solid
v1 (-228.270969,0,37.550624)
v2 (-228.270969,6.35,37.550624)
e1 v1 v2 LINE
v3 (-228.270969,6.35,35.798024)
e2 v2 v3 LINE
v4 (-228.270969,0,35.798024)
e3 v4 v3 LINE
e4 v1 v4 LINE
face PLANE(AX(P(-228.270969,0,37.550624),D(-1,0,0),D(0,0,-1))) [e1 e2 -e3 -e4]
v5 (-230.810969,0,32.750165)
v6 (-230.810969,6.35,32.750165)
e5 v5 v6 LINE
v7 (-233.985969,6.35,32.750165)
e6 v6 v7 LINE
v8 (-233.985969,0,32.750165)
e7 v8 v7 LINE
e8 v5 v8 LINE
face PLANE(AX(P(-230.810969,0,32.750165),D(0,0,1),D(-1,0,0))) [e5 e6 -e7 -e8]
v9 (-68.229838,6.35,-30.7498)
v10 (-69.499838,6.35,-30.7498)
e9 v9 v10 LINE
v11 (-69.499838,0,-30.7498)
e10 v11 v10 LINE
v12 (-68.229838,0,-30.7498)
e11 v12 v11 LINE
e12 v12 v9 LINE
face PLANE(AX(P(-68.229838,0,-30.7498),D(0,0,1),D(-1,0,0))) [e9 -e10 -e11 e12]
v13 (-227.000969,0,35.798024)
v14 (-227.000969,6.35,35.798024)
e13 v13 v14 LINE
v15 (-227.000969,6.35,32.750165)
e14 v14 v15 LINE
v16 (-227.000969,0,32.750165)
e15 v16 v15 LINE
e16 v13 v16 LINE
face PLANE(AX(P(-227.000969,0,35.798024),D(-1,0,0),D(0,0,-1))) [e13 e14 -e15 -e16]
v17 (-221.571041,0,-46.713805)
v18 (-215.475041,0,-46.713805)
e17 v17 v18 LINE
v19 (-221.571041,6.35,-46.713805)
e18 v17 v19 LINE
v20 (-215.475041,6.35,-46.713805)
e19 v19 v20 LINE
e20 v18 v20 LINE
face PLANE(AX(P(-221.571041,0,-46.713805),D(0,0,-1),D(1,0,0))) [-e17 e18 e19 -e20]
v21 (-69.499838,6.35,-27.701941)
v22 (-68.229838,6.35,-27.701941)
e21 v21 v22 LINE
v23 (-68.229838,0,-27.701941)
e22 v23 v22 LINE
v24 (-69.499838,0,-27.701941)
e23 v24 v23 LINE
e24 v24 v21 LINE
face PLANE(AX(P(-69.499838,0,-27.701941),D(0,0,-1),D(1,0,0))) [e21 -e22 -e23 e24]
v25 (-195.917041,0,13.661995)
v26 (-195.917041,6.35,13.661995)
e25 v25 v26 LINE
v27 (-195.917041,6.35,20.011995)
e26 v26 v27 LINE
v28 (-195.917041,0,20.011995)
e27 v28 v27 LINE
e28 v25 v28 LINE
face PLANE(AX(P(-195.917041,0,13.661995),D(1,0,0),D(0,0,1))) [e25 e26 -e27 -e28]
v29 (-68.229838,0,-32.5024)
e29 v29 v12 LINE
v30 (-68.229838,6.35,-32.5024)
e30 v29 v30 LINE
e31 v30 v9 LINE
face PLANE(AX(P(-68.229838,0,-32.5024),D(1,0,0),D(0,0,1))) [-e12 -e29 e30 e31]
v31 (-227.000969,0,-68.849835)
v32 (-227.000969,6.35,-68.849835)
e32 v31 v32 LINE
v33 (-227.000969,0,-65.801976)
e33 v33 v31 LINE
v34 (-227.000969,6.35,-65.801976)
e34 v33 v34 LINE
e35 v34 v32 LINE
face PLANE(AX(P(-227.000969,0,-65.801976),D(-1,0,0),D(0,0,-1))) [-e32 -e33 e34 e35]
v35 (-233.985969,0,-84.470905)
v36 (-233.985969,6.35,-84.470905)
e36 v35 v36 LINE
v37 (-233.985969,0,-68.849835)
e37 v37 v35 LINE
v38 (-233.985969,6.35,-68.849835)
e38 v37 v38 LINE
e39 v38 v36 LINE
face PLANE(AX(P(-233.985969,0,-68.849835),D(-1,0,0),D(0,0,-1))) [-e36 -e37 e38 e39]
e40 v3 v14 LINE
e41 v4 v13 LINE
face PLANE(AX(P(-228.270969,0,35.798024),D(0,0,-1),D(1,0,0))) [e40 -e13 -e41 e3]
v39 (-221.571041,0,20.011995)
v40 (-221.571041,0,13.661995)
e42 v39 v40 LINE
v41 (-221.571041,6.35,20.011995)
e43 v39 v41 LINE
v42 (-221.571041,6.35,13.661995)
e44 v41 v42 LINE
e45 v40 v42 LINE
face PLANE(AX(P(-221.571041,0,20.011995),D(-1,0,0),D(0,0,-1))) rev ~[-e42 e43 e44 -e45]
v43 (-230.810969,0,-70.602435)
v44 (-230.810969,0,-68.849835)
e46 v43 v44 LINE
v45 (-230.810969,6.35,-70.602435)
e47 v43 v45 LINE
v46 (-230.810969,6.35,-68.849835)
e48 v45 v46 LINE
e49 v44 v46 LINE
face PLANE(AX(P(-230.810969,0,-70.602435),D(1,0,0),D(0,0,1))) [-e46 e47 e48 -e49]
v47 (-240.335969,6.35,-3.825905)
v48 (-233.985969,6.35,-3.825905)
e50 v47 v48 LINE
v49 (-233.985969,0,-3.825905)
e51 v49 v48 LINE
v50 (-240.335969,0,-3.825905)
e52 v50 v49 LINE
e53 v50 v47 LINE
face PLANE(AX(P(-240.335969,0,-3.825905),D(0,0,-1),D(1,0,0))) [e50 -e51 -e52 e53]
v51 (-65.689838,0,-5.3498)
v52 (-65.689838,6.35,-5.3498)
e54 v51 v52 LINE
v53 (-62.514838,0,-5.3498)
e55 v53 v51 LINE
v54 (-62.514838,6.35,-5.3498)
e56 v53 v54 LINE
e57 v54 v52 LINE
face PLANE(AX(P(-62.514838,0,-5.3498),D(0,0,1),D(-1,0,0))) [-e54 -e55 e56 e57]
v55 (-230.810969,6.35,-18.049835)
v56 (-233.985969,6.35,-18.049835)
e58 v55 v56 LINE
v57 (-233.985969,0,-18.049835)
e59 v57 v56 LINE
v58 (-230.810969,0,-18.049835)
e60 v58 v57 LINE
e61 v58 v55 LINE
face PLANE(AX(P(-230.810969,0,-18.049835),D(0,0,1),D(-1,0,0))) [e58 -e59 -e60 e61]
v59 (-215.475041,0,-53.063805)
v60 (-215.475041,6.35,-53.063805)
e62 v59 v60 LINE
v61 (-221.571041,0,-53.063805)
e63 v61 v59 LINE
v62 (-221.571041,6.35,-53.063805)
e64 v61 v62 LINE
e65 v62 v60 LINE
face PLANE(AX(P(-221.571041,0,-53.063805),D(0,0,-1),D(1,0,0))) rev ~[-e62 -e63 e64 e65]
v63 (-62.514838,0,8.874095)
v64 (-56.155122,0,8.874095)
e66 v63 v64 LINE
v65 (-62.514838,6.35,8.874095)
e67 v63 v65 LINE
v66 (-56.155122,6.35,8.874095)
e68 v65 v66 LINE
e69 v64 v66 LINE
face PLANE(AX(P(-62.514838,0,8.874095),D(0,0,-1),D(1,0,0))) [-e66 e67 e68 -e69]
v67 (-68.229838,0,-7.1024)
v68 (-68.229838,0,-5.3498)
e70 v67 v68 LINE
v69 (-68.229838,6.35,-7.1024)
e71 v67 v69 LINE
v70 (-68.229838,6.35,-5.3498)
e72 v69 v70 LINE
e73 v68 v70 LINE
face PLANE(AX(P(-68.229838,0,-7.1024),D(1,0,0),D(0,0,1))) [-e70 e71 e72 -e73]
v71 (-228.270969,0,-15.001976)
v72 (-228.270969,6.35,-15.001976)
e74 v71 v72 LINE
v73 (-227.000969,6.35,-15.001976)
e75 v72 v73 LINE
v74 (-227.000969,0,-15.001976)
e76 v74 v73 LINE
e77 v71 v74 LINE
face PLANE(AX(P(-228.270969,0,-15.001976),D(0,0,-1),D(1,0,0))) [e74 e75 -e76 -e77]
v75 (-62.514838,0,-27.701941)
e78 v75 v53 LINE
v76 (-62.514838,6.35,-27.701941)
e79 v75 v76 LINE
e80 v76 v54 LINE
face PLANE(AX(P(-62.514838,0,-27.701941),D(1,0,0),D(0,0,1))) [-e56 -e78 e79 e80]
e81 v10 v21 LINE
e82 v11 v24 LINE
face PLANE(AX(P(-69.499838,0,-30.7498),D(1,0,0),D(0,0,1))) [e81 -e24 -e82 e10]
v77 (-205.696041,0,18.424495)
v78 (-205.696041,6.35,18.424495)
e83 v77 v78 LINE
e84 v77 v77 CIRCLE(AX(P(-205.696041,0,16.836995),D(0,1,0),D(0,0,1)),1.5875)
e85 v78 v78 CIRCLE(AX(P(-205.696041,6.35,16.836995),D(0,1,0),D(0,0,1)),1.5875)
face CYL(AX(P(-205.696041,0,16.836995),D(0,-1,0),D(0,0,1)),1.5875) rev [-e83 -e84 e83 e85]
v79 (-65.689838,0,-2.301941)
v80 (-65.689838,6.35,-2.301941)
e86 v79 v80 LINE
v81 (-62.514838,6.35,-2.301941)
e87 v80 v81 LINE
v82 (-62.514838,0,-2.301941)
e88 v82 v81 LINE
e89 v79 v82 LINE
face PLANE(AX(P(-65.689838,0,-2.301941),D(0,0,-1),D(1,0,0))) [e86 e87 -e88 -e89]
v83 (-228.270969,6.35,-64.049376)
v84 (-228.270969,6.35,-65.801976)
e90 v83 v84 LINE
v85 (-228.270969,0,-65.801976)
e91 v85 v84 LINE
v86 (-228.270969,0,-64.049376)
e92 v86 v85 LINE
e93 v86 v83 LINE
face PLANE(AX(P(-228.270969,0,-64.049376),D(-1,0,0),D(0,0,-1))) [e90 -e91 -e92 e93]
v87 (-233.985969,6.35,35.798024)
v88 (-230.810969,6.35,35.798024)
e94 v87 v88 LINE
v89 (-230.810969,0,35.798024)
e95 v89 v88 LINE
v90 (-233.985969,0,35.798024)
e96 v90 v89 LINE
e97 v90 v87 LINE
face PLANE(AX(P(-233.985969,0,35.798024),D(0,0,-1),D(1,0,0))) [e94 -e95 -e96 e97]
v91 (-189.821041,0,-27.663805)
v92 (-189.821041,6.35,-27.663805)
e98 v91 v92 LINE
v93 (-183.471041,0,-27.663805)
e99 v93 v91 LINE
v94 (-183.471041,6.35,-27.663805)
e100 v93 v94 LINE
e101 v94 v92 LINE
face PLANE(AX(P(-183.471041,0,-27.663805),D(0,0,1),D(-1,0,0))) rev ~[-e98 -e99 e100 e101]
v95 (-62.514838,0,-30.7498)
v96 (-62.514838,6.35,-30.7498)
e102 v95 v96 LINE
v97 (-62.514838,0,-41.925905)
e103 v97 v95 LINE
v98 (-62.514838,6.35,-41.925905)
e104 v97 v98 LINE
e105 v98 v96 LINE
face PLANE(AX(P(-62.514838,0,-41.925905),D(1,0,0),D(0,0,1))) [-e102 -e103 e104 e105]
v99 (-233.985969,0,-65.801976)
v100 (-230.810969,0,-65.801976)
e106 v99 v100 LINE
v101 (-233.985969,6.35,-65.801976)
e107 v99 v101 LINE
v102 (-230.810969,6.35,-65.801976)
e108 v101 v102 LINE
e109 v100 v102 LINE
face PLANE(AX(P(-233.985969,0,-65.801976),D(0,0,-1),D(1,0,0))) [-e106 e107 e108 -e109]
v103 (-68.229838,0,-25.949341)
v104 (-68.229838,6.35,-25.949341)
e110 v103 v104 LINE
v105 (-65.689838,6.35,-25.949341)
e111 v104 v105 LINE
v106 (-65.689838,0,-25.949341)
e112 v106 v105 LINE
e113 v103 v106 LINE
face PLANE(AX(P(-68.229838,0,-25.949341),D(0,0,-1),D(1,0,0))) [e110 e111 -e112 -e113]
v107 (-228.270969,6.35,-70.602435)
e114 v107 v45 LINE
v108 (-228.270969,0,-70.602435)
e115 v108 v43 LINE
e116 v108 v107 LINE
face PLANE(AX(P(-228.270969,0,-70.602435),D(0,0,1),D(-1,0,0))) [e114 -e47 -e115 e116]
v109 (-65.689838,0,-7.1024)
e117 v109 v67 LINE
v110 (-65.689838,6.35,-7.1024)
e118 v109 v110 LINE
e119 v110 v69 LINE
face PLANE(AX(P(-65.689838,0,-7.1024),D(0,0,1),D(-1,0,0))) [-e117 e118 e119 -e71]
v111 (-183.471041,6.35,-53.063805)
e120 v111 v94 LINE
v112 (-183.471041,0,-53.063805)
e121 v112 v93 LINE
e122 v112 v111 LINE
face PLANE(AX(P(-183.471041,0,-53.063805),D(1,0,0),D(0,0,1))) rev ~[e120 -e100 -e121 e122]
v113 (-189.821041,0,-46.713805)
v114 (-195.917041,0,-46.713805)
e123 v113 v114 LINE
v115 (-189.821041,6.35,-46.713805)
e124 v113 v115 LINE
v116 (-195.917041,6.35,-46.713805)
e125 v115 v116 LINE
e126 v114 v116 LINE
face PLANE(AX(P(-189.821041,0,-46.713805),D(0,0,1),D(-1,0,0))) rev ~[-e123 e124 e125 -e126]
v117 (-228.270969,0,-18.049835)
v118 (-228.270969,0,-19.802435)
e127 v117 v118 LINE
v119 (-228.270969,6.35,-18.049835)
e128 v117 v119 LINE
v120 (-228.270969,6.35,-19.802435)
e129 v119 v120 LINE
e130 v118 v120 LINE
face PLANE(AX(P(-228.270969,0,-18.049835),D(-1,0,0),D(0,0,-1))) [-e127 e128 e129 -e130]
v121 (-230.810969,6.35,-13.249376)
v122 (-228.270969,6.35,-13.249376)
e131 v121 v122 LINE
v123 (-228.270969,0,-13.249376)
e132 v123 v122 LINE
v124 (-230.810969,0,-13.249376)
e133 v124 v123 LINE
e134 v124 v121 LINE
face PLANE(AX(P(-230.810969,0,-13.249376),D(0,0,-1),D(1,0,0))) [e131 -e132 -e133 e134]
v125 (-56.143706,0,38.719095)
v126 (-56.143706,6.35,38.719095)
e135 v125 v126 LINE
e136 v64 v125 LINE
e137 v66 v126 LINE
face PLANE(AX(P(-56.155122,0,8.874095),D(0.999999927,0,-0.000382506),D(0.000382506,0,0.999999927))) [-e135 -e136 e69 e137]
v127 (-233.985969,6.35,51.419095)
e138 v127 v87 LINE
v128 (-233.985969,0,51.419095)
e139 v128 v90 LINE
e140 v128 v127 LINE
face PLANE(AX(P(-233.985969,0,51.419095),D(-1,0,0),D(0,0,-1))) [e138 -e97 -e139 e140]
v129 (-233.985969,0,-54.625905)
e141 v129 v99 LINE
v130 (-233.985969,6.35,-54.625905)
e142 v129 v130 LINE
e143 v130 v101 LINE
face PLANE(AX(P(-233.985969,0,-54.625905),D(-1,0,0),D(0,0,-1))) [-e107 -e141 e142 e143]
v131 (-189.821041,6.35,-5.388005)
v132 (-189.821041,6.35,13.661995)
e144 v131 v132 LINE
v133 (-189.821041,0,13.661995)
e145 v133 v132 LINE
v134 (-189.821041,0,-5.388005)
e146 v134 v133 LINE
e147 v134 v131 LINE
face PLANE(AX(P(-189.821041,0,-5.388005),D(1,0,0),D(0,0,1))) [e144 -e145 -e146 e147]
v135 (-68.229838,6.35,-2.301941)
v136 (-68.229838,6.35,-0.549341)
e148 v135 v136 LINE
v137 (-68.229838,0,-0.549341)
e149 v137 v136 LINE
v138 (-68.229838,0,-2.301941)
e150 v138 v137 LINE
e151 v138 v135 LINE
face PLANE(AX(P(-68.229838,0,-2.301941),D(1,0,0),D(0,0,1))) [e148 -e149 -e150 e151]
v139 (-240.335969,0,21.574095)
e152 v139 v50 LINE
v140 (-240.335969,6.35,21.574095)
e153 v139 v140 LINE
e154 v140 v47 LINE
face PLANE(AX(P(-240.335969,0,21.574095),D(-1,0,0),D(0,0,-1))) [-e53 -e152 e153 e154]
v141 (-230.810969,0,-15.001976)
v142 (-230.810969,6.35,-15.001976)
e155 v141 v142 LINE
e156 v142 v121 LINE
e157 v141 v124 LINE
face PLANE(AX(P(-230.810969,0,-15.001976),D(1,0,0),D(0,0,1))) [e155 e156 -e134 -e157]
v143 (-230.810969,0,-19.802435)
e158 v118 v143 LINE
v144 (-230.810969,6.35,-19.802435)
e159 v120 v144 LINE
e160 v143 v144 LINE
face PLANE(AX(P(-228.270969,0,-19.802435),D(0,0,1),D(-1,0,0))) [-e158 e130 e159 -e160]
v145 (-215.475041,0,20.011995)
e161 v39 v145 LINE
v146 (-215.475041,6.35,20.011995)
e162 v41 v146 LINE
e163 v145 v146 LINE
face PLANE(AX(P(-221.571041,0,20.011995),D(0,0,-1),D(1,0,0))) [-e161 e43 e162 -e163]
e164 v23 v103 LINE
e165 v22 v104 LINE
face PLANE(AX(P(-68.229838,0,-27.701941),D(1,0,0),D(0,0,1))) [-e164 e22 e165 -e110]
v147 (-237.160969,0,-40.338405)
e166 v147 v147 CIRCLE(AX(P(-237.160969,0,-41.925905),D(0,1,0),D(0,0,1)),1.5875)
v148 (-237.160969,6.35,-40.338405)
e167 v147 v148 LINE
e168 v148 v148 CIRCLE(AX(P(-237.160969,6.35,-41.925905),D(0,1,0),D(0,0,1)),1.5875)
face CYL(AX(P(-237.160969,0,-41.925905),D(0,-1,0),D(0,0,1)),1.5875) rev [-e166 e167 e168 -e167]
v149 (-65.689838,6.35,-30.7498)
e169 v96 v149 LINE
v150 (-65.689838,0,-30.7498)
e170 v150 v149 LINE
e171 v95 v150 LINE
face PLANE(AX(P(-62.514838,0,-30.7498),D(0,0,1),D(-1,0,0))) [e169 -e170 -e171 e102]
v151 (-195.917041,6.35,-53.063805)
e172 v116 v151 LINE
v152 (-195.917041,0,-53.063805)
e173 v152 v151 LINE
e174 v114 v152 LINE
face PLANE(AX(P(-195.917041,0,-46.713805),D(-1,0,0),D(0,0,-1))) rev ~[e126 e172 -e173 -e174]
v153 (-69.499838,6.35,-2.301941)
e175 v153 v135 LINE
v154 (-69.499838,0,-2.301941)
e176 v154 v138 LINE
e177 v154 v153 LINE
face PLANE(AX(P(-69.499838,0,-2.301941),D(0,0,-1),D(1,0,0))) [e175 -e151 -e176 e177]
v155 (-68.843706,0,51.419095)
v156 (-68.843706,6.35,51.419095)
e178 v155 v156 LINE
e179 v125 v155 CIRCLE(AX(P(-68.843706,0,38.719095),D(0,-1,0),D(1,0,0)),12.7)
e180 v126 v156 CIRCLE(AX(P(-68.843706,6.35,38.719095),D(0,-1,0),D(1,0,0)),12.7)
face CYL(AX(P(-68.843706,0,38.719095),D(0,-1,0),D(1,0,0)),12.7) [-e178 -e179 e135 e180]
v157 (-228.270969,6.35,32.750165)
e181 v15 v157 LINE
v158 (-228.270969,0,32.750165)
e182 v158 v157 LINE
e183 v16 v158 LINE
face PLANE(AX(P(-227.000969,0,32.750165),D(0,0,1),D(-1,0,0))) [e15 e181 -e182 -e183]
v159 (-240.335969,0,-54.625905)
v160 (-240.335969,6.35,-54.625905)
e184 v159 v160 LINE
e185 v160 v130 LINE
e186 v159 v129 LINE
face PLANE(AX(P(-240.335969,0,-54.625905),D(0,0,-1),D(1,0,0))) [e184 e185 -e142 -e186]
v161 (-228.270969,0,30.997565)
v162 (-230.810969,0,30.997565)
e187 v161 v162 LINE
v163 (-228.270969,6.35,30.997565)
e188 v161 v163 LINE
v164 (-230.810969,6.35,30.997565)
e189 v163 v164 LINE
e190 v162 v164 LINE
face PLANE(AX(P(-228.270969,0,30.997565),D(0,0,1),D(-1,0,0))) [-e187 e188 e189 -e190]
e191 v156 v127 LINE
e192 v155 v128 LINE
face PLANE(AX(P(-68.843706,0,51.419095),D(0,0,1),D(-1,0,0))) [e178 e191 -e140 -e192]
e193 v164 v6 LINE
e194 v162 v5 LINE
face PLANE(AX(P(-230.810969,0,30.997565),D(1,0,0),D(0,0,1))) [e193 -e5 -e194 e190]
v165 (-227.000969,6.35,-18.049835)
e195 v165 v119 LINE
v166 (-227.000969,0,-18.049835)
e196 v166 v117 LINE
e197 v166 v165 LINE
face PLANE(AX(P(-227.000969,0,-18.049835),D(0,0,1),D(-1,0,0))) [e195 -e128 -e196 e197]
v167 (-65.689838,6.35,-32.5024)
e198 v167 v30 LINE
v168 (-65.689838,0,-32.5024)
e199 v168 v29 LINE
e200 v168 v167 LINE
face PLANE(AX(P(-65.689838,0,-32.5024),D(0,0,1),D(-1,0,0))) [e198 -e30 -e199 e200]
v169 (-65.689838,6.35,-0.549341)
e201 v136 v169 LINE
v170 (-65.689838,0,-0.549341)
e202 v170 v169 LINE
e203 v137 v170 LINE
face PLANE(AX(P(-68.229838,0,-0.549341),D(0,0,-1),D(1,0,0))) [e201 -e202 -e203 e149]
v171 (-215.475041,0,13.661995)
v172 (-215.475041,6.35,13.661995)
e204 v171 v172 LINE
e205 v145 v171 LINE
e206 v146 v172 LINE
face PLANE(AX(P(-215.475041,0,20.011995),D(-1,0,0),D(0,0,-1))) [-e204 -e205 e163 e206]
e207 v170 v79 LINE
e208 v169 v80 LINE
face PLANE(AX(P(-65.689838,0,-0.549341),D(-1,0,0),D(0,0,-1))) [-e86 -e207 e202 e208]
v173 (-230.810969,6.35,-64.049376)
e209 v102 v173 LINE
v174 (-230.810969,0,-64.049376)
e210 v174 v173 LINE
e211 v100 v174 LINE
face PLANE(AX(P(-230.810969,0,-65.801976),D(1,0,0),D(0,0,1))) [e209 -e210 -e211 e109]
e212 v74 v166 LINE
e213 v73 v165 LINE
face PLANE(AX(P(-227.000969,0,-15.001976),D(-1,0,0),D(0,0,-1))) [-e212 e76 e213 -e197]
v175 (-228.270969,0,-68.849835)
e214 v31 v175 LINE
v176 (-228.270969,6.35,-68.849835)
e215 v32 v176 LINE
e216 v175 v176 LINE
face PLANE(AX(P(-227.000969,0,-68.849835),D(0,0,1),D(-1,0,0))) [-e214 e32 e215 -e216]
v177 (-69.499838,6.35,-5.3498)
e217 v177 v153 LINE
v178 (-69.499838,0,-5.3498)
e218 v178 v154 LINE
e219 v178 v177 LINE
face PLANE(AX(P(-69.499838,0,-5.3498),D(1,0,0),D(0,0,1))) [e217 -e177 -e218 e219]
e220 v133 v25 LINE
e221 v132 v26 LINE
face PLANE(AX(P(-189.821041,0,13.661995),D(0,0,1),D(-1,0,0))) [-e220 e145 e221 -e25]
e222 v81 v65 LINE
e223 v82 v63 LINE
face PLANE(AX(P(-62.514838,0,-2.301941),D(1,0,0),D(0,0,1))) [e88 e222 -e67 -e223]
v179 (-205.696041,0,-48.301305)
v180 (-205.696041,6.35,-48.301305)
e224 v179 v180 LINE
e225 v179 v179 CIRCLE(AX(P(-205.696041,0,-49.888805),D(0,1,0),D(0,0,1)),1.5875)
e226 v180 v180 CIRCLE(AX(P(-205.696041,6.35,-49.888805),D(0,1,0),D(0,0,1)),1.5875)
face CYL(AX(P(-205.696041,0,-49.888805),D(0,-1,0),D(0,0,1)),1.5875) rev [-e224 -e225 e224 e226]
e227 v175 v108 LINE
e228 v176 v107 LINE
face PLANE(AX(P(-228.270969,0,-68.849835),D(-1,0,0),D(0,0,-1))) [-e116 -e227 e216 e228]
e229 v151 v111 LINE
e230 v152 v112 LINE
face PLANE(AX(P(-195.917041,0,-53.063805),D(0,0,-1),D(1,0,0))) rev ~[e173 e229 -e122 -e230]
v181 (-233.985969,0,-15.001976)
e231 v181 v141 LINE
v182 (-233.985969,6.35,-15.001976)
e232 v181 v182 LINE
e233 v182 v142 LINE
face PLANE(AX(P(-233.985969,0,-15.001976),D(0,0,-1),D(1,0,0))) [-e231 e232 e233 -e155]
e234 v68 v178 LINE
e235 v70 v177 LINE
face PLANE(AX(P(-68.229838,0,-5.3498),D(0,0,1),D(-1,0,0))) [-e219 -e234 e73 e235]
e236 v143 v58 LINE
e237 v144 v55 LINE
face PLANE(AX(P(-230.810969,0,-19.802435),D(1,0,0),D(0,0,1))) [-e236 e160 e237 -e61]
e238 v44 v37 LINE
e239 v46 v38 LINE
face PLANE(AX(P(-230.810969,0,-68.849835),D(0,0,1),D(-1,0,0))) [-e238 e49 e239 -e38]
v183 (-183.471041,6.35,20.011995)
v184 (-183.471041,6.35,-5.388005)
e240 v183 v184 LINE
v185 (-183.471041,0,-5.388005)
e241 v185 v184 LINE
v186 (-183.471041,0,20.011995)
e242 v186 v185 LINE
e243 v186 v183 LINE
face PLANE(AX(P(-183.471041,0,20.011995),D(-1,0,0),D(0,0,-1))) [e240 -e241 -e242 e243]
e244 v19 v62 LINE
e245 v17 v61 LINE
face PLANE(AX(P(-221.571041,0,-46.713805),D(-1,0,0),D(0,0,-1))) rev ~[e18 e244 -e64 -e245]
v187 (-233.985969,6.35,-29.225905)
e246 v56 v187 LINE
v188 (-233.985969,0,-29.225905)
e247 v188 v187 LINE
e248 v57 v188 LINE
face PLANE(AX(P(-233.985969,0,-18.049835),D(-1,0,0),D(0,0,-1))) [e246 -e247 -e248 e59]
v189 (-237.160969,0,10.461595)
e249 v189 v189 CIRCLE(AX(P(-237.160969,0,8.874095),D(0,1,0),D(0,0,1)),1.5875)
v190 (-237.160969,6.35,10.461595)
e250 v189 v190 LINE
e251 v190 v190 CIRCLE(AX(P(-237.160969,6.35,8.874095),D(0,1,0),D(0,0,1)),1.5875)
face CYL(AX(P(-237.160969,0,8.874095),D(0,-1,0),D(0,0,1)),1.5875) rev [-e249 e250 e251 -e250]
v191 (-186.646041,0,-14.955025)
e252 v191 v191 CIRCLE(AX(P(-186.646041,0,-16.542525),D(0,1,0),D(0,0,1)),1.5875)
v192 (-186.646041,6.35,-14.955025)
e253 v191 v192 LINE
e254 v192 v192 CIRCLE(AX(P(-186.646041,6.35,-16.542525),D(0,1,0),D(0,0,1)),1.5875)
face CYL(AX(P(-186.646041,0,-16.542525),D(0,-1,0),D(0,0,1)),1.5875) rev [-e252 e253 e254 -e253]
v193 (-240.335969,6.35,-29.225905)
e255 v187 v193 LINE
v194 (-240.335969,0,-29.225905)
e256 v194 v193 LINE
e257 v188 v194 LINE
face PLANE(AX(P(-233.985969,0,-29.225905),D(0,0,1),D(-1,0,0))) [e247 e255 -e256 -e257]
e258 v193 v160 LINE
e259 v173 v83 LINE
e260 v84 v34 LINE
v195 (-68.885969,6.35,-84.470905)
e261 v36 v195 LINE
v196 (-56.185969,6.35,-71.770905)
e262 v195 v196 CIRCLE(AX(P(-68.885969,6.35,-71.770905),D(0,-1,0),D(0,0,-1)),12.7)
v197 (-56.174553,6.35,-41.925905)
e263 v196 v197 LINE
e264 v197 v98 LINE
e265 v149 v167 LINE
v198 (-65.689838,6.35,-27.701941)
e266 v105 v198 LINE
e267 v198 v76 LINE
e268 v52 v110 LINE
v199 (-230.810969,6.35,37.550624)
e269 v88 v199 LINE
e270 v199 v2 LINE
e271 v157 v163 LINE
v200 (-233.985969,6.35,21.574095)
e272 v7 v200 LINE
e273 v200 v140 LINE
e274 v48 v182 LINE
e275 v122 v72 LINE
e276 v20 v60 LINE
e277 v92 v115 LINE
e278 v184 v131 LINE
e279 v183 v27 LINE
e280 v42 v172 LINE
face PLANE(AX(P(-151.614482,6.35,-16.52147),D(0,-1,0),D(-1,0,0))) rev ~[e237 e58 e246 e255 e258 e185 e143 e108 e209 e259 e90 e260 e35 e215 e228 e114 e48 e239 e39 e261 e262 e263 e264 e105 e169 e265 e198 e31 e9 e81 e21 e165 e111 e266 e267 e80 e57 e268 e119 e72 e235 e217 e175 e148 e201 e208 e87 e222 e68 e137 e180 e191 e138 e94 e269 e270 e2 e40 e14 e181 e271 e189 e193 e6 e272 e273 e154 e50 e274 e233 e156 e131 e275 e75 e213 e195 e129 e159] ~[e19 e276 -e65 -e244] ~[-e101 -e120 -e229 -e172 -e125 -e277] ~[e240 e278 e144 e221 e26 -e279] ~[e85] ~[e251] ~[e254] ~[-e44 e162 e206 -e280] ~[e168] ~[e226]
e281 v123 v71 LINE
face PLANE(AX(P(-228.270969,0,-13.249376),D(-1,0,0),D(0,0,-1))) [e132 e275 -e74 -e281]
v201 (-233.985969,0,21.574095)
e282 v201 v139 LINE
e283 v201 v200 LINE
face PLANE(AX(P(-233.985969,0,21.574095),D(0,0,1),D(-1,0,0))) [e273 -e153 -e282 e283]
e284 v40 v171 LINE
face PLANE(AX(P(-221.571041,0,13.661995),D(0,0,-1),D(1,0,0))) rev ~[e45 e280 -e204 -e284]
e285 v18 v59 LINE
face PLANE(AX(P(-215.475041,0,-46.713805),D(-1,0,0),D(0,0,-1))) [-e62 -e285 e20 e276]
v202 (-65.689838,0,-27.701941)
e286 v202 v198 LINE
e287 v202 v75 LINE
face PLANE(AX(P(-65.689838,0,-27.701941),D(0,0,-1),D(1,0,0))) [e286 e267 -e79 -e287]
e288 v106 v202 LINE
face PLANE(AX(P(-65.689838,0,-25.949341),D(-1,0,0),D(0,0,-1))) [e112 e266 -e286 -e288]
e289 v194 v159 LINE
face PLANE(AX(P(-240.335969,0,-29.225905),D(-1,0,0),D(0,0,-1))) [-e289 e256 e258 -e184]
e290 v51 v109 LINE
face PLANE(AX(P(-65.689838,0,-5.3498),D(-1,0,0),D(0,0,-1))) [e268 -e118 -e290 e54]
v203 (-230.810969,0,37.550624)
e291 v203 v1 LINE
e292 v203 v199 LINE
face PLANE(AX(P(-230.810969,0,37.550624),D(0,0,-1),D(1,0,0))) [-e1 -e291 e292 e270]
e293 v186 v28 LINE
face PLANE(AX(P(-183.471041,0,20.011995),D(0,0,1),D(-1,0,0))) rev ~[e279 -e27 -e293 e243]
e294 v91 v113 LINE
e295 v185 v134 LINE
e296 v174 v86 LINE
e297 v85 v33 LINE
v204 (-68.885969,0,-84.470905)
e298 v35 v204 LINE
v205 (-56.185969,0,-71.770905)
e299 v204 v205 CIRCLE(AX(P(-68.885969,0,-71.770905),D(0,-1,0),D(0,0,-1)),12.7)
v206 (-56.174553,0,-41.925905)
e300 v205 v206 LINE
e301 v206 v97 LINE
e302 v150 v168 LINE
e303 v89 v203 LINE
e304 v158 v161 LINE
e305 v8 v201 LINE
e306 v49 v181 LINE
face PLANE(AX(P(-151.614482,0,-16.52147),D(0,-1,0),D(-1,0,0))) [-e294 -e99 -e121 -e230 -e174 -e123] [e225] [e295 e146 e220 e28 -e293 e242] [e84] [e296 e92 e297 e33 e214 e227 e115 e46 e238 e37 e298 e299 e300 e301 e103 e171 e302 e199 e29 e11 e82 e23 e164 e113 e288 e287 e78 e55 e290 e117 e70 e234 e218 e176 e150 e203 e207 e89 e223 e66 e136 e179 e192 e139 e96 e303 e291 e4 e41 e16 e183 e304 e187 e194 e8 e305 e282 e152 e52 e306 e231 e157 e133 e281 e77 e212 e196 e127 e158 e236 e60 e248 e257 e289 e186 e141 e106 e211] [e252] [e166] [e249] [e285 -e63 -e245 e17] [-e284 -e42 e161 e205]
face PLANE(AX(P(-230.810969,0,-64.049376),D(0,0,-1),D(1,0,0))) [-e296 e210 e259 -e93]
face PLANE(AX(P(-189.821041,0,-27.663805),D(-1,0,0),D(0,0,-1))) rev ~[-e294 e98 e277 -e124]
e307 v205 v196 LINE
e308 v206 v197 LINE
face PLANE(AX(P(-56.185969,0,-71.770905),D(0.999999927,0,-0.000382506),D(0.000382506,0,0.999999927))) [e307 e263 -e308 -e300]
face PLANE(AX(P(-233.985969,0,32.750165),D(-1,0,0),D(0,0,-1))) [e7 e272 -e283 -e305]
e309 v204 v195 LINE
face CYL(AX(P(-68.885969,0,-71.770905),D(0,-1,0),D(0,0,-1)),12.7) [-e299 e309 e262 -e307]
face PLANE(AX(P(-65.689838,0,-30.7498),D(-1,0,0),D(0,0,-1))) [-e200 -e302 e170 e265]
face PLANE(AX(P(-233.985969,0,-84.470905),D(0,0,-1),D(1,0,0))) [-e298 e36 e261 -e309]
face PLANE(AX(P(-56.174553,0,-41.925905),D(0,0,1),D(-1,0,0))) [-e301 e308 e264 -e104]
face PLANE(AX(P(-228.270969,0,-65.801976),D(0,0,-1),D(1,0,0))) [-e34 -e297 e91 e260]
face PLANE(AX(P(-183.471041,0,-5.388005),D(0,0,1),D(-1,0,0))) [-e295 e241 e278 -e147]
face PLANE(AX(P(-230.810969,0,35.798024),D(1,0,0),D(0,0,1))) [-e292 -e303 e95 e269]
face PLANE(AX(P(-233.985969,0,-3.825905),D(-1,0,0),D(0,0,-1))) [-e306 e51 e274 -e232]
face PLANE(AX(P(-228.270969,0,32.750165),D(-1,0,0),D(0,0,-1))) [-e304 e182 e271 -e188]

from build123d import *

# Parameters (mm, degrees)
SKETCH1_R           = 1.5875
SKETCH1_W           = 6.096
SKETCH1_H           = 6.35
BOSS_EXTRUDE1_DEPTH = 6.35


with BuildPart() as part:
    # Sketch1 → Boss-Extrude1 (new body)
    with BuildSketch(Plane(origin=(0, 0, 0), x_dir=(1, 0, 0), z_dir=(0, 1, 0))):
        with BuildLine():
            Line((-233.985969077, 84.470905347), (-68.885969077, 84.470905347))
            ThreePointArc((-68.885969077, 84.470905347), (-59.905712956, 80.751161468), (-56.185969077, 71.770905347))
            Line((-56.185969077, 71.770905347), (-56.174553175, 41.925905347))
            Line((-56.174553175, 41.925905347), (-62.514837513, 41.925905347))
            Line((-62.514837513, 41.925905347), (-62.514837513, 30.749799864))
            Line((-62.514837513, 30.749799864), (-65.689837513, 30.749799864))
            Line((-65.689837513, 30.749799864), (-65.689837513, 32.502399864))
            Line((-65.689837513, 32.502399864), (-68.229837513, 32.502399864))
            Line((-68.229837513, 32.502399864), (-68.229837513, 30.749799864))
            Line((-68.229837513, 30.749799864), (-69.499837513, 30.749799864))
            Line((-69.499837513, 30.749799864), (-69.499837513, 27.701940508))
            Line((-69.499837513, 27.701940508), (-68.229837513, 27.701940508))
            Line((-68.229837513, 27.701940508), (-68.229837513, 25.949340508))
            Line((-68.229837513, 25.949340508), (-65.689837513, 25.949340508))
            Line((-65.689837513, 25.949340508), (-65.689837513, 27.701940508))
            Line((-65.689837513, 27.701940508), (-62.514837513, 27.701940508))
            Line((-62.514837513, 27.701940508), (-62.514837513, 16.525905347))
            Line((-62.514837513, 16.525905347), (-62.514837513, 5.349799864))
            Line((-62.514837513, 5.349799864), (-65.689837513, 5.349799864))
            Line((-65.689837513, 5.349799864), (-65.689837513, 7.102399864))
            Line((-65.689837513, 7.102399864), (-68.229837513, 7.102399864))
            Line((-68.229837513, 7.102399864), (-68.229837513, 5.349799864))
            Line((-68.229837513, 5.349799864), (-69.499837513, 5.349799864))
            Line((-69.499837513, 5.349799864), (-69.499837513, 2.301940508))
            Line((-69.499837513, 2.301940508), (-68.229837513, 2.301940508))
            Line((-68.229837513, 2.301940508), (-68.229837513, 0.549340508))
            Line((-68.229837513, 0.549340508), (-65.689837513, 0.549340508))
            Line((-65.689837513, 0.549340508), (-65.689837513, 2.301940508))
            Line((-65.689837513, 2.301940508), (-62.514837513, 2.301940508))
            Line((-62.514837513, 2.301940508), (-62.514837513, -8.874094653))
            Line((-62.514837513, -8.874094653), (-56.155121852, -8.874094653))
            Line((-56.155121852, -8.874094653), (-56.14370595, -38.719094653))
            ThreePointArc((-56.14370595, -38.719094653), (-59.863449829, -47.699350774), (-68.84370595, -51.419094653))
            Line((-68.84370595, -51.419094653), (-233.985969077, -51.419094653))
            Line((-233.985969077, -51.419094653), (-233.985969077, -45.069094653))
            Line((-233.985969077, -45.069094653), (-233.985969077, -35.798024331))
            Line((-233.985969077, -35.798024331), (-230.810969077, -35.798024331))
            Line((-230.810969077, -35.798024331), (-230.810969077, -37.550624331))
            Line((-230.810969077, -37.550624331), (-228.270969077, -37.550624331))
            Line((-228.270969077, -37.550624331), (-228.270969077, -35.798024331))
            Line((-228.270969077, -35.798024331), (-227.000969077, -35.798024331))
            Line((-227.000969077, -35.798024331), (-227.000969077, -32.750164975))
            Line((-227.000969077, -32.750164975), (-228.270969077, -32.750164975))
            Line((-228.270969077, -32.750164975), (-228.270969077, -30.997564975))
            Line((-228.270969077, -30.997564975), (-230.810969077, -30.997564975))
            Line((-230.810969077, -30.997564975), (-230.810969077, -32.750164975))
            Line((-230.810969077, -32.750164975), (-233.985969077, -32.750164975))
            Line((-233.985969077, -32.750164975), (-233.985969077, -21.574094653))
            Line((-233.985969077, -21.574094653), (-240.335969077, -21.574094653))
            Line((-240.335969077, -21.574094653), (-240.335969077, 3.825905347))
            Line((-240.335969077, 3.825905347), (-233.985969077, 3.825905347))
            Line((-233.985969077, 3.825905347), (-233.985969077, 15.001975669))
            Line((-233.985969077, 15.001975669), (-230.810969077, 15.001975669))
            Line((-230.810969077, 15.001975669), (-230.810969077, 13.249375669))
            Line((-230.810969077, 13.249375669), (-228.270969077, 13.249375669))
            Line((-228.270969077, 13.249375669), (-228.270969077, 15.001975669))
            Line((-228.270969077, 15.001975669), (-227.000969077, 15.001975669))
            Line((-227.000969077, 15.001975669), (-227.000969077, 18.049835025))
            Line((-227.000969077, 18.049835025), (-228.270969077, 18.049835025))
            Line((-228.270969077, 18.049835025), (-228.270969077, 19.802435025))
            Line((-228.270969077, 19.802435025), (-230.810969077, 19.802435025))
            Line((-230.810969077, 19.802435025), (-230.810969077, 18.049835025))
            Line((-230.810969077, 18.049835025), (-233.985969077, 18.049835025))
            Line((-233.985969077, 18.049835025), (-233.985969077, 29.225905347))
            Line((-233.985969077, 29.225905347), (-240.335969077, 29.225905347))
            Line((-240.335969077, 29.225905347), (-240.335969077, 54.625905347))
            Line((-240.335969077, 54.625905347), (-233.985969077, 54.625905347))
            Line((-233.985969077, 54.625905347), (-233.985969077, 65.801975669))
            Line((-233.985969077, 65.801975669), (-230.810969077, 65.801975669))
            Line((-230.810969077, 65.801975669), (-230.810969077, 64.049375669))
            Line((-230.810969077, 64.049375669), (-228.270969077, 64.049375669))
            Line((-228.270969077, 64.049375669), (-228.270969077, 65.801975669))
            Line((-228.270969077, 65.801975669), (-227.000969077, 65.801975669))
            Line((-227.000969077, 65.801975669), (-227.000969077, 68.849835025))
            Line((-227.000969077, 68.849835025), (-228.270969077, 68.849835025))
            Line((-228.270969077, 68.849835025), (-228.270969077, 70.602435025))
            Line((-228.270969077, 70.602435025), (-230.810969077, 70.602435025))
            Line((-230.810969077, 70.602435025), (-230.810969077, 68.849835025))
            Line((-230.810969077, 68.849835025), (-233.985969077, 68.849835025))
            Line((-233.985969077, 68.849835025), (-233.985969077, 78.120905347))
            Line((-233.985969077, 78.120905347), (-233.985969077, 84.470905347))
        make_face()
        with Locations(Location((-237.160969077, 41.925905347, 0), (0, 0, 270))):
            Circle(SKETCH1_R, mode=Mode.SUBTRACT)
        with Locations(Location((-237.160969077, -8.874094653, 0), (0, 0, 270))):
            Circle(SKETCH1_R, mode=Mode.SUBTRACT)
        with Locations(Location((-186.646041016, 16.54252462, 0), (0, 0, 270))):
            Circle(SKETCH1_R, mode=Mode.SUBTRACT)
        with Locations(Location((-205.696041016, -16.836994653, 0), (0, 0, 270))):
            Circle(SKETCH1_R, mode=Mode.SUBTRACT)
        with Locations(Location((-205.696041016, 49.888805347, 0), (0, 0, 270))):
            Circle(SKETCH1_R, mode=Mode.SUBTRACT)
        Polygon((-189.821041016, -20.011994653), (-183.471041016, -20.011994653), (-183.471041016, 5.388005347), (-189.821041016, 5.388005347), (-189.821041016, -13.661994653), (-195.917041016, -13.661994653), (-195.917041016, -20.011994653), align=None, mode=Mode.SUBTRACT)
        Polygon((-189.821041016, 53.063805347), (-183.471041016, 53.063805347), (-183.471041016, 27.663805347), (-189.821041016, 27.663805347), (-189.821041016, 46.713805347), (-195.917041016, 46.713805347), (-195.917041016, 53.063805347), align=None, mode=Mode.SUBTRACT)
        with Locations((-218.523041016, -16.836994653)):
            Rectangle(SKETCH1_W, SKETCH1_H, mode=Mode.SUBTRACT)
        with Locations((-218.523041016, 49.888805347)):
            Rectangle(SKETCH1_W, SKETCH1_H, mode=Mode.SUBTRACT)
    extrude(amount=BOSS_EXTRUDE1_DEPTH)


solid = part.part
